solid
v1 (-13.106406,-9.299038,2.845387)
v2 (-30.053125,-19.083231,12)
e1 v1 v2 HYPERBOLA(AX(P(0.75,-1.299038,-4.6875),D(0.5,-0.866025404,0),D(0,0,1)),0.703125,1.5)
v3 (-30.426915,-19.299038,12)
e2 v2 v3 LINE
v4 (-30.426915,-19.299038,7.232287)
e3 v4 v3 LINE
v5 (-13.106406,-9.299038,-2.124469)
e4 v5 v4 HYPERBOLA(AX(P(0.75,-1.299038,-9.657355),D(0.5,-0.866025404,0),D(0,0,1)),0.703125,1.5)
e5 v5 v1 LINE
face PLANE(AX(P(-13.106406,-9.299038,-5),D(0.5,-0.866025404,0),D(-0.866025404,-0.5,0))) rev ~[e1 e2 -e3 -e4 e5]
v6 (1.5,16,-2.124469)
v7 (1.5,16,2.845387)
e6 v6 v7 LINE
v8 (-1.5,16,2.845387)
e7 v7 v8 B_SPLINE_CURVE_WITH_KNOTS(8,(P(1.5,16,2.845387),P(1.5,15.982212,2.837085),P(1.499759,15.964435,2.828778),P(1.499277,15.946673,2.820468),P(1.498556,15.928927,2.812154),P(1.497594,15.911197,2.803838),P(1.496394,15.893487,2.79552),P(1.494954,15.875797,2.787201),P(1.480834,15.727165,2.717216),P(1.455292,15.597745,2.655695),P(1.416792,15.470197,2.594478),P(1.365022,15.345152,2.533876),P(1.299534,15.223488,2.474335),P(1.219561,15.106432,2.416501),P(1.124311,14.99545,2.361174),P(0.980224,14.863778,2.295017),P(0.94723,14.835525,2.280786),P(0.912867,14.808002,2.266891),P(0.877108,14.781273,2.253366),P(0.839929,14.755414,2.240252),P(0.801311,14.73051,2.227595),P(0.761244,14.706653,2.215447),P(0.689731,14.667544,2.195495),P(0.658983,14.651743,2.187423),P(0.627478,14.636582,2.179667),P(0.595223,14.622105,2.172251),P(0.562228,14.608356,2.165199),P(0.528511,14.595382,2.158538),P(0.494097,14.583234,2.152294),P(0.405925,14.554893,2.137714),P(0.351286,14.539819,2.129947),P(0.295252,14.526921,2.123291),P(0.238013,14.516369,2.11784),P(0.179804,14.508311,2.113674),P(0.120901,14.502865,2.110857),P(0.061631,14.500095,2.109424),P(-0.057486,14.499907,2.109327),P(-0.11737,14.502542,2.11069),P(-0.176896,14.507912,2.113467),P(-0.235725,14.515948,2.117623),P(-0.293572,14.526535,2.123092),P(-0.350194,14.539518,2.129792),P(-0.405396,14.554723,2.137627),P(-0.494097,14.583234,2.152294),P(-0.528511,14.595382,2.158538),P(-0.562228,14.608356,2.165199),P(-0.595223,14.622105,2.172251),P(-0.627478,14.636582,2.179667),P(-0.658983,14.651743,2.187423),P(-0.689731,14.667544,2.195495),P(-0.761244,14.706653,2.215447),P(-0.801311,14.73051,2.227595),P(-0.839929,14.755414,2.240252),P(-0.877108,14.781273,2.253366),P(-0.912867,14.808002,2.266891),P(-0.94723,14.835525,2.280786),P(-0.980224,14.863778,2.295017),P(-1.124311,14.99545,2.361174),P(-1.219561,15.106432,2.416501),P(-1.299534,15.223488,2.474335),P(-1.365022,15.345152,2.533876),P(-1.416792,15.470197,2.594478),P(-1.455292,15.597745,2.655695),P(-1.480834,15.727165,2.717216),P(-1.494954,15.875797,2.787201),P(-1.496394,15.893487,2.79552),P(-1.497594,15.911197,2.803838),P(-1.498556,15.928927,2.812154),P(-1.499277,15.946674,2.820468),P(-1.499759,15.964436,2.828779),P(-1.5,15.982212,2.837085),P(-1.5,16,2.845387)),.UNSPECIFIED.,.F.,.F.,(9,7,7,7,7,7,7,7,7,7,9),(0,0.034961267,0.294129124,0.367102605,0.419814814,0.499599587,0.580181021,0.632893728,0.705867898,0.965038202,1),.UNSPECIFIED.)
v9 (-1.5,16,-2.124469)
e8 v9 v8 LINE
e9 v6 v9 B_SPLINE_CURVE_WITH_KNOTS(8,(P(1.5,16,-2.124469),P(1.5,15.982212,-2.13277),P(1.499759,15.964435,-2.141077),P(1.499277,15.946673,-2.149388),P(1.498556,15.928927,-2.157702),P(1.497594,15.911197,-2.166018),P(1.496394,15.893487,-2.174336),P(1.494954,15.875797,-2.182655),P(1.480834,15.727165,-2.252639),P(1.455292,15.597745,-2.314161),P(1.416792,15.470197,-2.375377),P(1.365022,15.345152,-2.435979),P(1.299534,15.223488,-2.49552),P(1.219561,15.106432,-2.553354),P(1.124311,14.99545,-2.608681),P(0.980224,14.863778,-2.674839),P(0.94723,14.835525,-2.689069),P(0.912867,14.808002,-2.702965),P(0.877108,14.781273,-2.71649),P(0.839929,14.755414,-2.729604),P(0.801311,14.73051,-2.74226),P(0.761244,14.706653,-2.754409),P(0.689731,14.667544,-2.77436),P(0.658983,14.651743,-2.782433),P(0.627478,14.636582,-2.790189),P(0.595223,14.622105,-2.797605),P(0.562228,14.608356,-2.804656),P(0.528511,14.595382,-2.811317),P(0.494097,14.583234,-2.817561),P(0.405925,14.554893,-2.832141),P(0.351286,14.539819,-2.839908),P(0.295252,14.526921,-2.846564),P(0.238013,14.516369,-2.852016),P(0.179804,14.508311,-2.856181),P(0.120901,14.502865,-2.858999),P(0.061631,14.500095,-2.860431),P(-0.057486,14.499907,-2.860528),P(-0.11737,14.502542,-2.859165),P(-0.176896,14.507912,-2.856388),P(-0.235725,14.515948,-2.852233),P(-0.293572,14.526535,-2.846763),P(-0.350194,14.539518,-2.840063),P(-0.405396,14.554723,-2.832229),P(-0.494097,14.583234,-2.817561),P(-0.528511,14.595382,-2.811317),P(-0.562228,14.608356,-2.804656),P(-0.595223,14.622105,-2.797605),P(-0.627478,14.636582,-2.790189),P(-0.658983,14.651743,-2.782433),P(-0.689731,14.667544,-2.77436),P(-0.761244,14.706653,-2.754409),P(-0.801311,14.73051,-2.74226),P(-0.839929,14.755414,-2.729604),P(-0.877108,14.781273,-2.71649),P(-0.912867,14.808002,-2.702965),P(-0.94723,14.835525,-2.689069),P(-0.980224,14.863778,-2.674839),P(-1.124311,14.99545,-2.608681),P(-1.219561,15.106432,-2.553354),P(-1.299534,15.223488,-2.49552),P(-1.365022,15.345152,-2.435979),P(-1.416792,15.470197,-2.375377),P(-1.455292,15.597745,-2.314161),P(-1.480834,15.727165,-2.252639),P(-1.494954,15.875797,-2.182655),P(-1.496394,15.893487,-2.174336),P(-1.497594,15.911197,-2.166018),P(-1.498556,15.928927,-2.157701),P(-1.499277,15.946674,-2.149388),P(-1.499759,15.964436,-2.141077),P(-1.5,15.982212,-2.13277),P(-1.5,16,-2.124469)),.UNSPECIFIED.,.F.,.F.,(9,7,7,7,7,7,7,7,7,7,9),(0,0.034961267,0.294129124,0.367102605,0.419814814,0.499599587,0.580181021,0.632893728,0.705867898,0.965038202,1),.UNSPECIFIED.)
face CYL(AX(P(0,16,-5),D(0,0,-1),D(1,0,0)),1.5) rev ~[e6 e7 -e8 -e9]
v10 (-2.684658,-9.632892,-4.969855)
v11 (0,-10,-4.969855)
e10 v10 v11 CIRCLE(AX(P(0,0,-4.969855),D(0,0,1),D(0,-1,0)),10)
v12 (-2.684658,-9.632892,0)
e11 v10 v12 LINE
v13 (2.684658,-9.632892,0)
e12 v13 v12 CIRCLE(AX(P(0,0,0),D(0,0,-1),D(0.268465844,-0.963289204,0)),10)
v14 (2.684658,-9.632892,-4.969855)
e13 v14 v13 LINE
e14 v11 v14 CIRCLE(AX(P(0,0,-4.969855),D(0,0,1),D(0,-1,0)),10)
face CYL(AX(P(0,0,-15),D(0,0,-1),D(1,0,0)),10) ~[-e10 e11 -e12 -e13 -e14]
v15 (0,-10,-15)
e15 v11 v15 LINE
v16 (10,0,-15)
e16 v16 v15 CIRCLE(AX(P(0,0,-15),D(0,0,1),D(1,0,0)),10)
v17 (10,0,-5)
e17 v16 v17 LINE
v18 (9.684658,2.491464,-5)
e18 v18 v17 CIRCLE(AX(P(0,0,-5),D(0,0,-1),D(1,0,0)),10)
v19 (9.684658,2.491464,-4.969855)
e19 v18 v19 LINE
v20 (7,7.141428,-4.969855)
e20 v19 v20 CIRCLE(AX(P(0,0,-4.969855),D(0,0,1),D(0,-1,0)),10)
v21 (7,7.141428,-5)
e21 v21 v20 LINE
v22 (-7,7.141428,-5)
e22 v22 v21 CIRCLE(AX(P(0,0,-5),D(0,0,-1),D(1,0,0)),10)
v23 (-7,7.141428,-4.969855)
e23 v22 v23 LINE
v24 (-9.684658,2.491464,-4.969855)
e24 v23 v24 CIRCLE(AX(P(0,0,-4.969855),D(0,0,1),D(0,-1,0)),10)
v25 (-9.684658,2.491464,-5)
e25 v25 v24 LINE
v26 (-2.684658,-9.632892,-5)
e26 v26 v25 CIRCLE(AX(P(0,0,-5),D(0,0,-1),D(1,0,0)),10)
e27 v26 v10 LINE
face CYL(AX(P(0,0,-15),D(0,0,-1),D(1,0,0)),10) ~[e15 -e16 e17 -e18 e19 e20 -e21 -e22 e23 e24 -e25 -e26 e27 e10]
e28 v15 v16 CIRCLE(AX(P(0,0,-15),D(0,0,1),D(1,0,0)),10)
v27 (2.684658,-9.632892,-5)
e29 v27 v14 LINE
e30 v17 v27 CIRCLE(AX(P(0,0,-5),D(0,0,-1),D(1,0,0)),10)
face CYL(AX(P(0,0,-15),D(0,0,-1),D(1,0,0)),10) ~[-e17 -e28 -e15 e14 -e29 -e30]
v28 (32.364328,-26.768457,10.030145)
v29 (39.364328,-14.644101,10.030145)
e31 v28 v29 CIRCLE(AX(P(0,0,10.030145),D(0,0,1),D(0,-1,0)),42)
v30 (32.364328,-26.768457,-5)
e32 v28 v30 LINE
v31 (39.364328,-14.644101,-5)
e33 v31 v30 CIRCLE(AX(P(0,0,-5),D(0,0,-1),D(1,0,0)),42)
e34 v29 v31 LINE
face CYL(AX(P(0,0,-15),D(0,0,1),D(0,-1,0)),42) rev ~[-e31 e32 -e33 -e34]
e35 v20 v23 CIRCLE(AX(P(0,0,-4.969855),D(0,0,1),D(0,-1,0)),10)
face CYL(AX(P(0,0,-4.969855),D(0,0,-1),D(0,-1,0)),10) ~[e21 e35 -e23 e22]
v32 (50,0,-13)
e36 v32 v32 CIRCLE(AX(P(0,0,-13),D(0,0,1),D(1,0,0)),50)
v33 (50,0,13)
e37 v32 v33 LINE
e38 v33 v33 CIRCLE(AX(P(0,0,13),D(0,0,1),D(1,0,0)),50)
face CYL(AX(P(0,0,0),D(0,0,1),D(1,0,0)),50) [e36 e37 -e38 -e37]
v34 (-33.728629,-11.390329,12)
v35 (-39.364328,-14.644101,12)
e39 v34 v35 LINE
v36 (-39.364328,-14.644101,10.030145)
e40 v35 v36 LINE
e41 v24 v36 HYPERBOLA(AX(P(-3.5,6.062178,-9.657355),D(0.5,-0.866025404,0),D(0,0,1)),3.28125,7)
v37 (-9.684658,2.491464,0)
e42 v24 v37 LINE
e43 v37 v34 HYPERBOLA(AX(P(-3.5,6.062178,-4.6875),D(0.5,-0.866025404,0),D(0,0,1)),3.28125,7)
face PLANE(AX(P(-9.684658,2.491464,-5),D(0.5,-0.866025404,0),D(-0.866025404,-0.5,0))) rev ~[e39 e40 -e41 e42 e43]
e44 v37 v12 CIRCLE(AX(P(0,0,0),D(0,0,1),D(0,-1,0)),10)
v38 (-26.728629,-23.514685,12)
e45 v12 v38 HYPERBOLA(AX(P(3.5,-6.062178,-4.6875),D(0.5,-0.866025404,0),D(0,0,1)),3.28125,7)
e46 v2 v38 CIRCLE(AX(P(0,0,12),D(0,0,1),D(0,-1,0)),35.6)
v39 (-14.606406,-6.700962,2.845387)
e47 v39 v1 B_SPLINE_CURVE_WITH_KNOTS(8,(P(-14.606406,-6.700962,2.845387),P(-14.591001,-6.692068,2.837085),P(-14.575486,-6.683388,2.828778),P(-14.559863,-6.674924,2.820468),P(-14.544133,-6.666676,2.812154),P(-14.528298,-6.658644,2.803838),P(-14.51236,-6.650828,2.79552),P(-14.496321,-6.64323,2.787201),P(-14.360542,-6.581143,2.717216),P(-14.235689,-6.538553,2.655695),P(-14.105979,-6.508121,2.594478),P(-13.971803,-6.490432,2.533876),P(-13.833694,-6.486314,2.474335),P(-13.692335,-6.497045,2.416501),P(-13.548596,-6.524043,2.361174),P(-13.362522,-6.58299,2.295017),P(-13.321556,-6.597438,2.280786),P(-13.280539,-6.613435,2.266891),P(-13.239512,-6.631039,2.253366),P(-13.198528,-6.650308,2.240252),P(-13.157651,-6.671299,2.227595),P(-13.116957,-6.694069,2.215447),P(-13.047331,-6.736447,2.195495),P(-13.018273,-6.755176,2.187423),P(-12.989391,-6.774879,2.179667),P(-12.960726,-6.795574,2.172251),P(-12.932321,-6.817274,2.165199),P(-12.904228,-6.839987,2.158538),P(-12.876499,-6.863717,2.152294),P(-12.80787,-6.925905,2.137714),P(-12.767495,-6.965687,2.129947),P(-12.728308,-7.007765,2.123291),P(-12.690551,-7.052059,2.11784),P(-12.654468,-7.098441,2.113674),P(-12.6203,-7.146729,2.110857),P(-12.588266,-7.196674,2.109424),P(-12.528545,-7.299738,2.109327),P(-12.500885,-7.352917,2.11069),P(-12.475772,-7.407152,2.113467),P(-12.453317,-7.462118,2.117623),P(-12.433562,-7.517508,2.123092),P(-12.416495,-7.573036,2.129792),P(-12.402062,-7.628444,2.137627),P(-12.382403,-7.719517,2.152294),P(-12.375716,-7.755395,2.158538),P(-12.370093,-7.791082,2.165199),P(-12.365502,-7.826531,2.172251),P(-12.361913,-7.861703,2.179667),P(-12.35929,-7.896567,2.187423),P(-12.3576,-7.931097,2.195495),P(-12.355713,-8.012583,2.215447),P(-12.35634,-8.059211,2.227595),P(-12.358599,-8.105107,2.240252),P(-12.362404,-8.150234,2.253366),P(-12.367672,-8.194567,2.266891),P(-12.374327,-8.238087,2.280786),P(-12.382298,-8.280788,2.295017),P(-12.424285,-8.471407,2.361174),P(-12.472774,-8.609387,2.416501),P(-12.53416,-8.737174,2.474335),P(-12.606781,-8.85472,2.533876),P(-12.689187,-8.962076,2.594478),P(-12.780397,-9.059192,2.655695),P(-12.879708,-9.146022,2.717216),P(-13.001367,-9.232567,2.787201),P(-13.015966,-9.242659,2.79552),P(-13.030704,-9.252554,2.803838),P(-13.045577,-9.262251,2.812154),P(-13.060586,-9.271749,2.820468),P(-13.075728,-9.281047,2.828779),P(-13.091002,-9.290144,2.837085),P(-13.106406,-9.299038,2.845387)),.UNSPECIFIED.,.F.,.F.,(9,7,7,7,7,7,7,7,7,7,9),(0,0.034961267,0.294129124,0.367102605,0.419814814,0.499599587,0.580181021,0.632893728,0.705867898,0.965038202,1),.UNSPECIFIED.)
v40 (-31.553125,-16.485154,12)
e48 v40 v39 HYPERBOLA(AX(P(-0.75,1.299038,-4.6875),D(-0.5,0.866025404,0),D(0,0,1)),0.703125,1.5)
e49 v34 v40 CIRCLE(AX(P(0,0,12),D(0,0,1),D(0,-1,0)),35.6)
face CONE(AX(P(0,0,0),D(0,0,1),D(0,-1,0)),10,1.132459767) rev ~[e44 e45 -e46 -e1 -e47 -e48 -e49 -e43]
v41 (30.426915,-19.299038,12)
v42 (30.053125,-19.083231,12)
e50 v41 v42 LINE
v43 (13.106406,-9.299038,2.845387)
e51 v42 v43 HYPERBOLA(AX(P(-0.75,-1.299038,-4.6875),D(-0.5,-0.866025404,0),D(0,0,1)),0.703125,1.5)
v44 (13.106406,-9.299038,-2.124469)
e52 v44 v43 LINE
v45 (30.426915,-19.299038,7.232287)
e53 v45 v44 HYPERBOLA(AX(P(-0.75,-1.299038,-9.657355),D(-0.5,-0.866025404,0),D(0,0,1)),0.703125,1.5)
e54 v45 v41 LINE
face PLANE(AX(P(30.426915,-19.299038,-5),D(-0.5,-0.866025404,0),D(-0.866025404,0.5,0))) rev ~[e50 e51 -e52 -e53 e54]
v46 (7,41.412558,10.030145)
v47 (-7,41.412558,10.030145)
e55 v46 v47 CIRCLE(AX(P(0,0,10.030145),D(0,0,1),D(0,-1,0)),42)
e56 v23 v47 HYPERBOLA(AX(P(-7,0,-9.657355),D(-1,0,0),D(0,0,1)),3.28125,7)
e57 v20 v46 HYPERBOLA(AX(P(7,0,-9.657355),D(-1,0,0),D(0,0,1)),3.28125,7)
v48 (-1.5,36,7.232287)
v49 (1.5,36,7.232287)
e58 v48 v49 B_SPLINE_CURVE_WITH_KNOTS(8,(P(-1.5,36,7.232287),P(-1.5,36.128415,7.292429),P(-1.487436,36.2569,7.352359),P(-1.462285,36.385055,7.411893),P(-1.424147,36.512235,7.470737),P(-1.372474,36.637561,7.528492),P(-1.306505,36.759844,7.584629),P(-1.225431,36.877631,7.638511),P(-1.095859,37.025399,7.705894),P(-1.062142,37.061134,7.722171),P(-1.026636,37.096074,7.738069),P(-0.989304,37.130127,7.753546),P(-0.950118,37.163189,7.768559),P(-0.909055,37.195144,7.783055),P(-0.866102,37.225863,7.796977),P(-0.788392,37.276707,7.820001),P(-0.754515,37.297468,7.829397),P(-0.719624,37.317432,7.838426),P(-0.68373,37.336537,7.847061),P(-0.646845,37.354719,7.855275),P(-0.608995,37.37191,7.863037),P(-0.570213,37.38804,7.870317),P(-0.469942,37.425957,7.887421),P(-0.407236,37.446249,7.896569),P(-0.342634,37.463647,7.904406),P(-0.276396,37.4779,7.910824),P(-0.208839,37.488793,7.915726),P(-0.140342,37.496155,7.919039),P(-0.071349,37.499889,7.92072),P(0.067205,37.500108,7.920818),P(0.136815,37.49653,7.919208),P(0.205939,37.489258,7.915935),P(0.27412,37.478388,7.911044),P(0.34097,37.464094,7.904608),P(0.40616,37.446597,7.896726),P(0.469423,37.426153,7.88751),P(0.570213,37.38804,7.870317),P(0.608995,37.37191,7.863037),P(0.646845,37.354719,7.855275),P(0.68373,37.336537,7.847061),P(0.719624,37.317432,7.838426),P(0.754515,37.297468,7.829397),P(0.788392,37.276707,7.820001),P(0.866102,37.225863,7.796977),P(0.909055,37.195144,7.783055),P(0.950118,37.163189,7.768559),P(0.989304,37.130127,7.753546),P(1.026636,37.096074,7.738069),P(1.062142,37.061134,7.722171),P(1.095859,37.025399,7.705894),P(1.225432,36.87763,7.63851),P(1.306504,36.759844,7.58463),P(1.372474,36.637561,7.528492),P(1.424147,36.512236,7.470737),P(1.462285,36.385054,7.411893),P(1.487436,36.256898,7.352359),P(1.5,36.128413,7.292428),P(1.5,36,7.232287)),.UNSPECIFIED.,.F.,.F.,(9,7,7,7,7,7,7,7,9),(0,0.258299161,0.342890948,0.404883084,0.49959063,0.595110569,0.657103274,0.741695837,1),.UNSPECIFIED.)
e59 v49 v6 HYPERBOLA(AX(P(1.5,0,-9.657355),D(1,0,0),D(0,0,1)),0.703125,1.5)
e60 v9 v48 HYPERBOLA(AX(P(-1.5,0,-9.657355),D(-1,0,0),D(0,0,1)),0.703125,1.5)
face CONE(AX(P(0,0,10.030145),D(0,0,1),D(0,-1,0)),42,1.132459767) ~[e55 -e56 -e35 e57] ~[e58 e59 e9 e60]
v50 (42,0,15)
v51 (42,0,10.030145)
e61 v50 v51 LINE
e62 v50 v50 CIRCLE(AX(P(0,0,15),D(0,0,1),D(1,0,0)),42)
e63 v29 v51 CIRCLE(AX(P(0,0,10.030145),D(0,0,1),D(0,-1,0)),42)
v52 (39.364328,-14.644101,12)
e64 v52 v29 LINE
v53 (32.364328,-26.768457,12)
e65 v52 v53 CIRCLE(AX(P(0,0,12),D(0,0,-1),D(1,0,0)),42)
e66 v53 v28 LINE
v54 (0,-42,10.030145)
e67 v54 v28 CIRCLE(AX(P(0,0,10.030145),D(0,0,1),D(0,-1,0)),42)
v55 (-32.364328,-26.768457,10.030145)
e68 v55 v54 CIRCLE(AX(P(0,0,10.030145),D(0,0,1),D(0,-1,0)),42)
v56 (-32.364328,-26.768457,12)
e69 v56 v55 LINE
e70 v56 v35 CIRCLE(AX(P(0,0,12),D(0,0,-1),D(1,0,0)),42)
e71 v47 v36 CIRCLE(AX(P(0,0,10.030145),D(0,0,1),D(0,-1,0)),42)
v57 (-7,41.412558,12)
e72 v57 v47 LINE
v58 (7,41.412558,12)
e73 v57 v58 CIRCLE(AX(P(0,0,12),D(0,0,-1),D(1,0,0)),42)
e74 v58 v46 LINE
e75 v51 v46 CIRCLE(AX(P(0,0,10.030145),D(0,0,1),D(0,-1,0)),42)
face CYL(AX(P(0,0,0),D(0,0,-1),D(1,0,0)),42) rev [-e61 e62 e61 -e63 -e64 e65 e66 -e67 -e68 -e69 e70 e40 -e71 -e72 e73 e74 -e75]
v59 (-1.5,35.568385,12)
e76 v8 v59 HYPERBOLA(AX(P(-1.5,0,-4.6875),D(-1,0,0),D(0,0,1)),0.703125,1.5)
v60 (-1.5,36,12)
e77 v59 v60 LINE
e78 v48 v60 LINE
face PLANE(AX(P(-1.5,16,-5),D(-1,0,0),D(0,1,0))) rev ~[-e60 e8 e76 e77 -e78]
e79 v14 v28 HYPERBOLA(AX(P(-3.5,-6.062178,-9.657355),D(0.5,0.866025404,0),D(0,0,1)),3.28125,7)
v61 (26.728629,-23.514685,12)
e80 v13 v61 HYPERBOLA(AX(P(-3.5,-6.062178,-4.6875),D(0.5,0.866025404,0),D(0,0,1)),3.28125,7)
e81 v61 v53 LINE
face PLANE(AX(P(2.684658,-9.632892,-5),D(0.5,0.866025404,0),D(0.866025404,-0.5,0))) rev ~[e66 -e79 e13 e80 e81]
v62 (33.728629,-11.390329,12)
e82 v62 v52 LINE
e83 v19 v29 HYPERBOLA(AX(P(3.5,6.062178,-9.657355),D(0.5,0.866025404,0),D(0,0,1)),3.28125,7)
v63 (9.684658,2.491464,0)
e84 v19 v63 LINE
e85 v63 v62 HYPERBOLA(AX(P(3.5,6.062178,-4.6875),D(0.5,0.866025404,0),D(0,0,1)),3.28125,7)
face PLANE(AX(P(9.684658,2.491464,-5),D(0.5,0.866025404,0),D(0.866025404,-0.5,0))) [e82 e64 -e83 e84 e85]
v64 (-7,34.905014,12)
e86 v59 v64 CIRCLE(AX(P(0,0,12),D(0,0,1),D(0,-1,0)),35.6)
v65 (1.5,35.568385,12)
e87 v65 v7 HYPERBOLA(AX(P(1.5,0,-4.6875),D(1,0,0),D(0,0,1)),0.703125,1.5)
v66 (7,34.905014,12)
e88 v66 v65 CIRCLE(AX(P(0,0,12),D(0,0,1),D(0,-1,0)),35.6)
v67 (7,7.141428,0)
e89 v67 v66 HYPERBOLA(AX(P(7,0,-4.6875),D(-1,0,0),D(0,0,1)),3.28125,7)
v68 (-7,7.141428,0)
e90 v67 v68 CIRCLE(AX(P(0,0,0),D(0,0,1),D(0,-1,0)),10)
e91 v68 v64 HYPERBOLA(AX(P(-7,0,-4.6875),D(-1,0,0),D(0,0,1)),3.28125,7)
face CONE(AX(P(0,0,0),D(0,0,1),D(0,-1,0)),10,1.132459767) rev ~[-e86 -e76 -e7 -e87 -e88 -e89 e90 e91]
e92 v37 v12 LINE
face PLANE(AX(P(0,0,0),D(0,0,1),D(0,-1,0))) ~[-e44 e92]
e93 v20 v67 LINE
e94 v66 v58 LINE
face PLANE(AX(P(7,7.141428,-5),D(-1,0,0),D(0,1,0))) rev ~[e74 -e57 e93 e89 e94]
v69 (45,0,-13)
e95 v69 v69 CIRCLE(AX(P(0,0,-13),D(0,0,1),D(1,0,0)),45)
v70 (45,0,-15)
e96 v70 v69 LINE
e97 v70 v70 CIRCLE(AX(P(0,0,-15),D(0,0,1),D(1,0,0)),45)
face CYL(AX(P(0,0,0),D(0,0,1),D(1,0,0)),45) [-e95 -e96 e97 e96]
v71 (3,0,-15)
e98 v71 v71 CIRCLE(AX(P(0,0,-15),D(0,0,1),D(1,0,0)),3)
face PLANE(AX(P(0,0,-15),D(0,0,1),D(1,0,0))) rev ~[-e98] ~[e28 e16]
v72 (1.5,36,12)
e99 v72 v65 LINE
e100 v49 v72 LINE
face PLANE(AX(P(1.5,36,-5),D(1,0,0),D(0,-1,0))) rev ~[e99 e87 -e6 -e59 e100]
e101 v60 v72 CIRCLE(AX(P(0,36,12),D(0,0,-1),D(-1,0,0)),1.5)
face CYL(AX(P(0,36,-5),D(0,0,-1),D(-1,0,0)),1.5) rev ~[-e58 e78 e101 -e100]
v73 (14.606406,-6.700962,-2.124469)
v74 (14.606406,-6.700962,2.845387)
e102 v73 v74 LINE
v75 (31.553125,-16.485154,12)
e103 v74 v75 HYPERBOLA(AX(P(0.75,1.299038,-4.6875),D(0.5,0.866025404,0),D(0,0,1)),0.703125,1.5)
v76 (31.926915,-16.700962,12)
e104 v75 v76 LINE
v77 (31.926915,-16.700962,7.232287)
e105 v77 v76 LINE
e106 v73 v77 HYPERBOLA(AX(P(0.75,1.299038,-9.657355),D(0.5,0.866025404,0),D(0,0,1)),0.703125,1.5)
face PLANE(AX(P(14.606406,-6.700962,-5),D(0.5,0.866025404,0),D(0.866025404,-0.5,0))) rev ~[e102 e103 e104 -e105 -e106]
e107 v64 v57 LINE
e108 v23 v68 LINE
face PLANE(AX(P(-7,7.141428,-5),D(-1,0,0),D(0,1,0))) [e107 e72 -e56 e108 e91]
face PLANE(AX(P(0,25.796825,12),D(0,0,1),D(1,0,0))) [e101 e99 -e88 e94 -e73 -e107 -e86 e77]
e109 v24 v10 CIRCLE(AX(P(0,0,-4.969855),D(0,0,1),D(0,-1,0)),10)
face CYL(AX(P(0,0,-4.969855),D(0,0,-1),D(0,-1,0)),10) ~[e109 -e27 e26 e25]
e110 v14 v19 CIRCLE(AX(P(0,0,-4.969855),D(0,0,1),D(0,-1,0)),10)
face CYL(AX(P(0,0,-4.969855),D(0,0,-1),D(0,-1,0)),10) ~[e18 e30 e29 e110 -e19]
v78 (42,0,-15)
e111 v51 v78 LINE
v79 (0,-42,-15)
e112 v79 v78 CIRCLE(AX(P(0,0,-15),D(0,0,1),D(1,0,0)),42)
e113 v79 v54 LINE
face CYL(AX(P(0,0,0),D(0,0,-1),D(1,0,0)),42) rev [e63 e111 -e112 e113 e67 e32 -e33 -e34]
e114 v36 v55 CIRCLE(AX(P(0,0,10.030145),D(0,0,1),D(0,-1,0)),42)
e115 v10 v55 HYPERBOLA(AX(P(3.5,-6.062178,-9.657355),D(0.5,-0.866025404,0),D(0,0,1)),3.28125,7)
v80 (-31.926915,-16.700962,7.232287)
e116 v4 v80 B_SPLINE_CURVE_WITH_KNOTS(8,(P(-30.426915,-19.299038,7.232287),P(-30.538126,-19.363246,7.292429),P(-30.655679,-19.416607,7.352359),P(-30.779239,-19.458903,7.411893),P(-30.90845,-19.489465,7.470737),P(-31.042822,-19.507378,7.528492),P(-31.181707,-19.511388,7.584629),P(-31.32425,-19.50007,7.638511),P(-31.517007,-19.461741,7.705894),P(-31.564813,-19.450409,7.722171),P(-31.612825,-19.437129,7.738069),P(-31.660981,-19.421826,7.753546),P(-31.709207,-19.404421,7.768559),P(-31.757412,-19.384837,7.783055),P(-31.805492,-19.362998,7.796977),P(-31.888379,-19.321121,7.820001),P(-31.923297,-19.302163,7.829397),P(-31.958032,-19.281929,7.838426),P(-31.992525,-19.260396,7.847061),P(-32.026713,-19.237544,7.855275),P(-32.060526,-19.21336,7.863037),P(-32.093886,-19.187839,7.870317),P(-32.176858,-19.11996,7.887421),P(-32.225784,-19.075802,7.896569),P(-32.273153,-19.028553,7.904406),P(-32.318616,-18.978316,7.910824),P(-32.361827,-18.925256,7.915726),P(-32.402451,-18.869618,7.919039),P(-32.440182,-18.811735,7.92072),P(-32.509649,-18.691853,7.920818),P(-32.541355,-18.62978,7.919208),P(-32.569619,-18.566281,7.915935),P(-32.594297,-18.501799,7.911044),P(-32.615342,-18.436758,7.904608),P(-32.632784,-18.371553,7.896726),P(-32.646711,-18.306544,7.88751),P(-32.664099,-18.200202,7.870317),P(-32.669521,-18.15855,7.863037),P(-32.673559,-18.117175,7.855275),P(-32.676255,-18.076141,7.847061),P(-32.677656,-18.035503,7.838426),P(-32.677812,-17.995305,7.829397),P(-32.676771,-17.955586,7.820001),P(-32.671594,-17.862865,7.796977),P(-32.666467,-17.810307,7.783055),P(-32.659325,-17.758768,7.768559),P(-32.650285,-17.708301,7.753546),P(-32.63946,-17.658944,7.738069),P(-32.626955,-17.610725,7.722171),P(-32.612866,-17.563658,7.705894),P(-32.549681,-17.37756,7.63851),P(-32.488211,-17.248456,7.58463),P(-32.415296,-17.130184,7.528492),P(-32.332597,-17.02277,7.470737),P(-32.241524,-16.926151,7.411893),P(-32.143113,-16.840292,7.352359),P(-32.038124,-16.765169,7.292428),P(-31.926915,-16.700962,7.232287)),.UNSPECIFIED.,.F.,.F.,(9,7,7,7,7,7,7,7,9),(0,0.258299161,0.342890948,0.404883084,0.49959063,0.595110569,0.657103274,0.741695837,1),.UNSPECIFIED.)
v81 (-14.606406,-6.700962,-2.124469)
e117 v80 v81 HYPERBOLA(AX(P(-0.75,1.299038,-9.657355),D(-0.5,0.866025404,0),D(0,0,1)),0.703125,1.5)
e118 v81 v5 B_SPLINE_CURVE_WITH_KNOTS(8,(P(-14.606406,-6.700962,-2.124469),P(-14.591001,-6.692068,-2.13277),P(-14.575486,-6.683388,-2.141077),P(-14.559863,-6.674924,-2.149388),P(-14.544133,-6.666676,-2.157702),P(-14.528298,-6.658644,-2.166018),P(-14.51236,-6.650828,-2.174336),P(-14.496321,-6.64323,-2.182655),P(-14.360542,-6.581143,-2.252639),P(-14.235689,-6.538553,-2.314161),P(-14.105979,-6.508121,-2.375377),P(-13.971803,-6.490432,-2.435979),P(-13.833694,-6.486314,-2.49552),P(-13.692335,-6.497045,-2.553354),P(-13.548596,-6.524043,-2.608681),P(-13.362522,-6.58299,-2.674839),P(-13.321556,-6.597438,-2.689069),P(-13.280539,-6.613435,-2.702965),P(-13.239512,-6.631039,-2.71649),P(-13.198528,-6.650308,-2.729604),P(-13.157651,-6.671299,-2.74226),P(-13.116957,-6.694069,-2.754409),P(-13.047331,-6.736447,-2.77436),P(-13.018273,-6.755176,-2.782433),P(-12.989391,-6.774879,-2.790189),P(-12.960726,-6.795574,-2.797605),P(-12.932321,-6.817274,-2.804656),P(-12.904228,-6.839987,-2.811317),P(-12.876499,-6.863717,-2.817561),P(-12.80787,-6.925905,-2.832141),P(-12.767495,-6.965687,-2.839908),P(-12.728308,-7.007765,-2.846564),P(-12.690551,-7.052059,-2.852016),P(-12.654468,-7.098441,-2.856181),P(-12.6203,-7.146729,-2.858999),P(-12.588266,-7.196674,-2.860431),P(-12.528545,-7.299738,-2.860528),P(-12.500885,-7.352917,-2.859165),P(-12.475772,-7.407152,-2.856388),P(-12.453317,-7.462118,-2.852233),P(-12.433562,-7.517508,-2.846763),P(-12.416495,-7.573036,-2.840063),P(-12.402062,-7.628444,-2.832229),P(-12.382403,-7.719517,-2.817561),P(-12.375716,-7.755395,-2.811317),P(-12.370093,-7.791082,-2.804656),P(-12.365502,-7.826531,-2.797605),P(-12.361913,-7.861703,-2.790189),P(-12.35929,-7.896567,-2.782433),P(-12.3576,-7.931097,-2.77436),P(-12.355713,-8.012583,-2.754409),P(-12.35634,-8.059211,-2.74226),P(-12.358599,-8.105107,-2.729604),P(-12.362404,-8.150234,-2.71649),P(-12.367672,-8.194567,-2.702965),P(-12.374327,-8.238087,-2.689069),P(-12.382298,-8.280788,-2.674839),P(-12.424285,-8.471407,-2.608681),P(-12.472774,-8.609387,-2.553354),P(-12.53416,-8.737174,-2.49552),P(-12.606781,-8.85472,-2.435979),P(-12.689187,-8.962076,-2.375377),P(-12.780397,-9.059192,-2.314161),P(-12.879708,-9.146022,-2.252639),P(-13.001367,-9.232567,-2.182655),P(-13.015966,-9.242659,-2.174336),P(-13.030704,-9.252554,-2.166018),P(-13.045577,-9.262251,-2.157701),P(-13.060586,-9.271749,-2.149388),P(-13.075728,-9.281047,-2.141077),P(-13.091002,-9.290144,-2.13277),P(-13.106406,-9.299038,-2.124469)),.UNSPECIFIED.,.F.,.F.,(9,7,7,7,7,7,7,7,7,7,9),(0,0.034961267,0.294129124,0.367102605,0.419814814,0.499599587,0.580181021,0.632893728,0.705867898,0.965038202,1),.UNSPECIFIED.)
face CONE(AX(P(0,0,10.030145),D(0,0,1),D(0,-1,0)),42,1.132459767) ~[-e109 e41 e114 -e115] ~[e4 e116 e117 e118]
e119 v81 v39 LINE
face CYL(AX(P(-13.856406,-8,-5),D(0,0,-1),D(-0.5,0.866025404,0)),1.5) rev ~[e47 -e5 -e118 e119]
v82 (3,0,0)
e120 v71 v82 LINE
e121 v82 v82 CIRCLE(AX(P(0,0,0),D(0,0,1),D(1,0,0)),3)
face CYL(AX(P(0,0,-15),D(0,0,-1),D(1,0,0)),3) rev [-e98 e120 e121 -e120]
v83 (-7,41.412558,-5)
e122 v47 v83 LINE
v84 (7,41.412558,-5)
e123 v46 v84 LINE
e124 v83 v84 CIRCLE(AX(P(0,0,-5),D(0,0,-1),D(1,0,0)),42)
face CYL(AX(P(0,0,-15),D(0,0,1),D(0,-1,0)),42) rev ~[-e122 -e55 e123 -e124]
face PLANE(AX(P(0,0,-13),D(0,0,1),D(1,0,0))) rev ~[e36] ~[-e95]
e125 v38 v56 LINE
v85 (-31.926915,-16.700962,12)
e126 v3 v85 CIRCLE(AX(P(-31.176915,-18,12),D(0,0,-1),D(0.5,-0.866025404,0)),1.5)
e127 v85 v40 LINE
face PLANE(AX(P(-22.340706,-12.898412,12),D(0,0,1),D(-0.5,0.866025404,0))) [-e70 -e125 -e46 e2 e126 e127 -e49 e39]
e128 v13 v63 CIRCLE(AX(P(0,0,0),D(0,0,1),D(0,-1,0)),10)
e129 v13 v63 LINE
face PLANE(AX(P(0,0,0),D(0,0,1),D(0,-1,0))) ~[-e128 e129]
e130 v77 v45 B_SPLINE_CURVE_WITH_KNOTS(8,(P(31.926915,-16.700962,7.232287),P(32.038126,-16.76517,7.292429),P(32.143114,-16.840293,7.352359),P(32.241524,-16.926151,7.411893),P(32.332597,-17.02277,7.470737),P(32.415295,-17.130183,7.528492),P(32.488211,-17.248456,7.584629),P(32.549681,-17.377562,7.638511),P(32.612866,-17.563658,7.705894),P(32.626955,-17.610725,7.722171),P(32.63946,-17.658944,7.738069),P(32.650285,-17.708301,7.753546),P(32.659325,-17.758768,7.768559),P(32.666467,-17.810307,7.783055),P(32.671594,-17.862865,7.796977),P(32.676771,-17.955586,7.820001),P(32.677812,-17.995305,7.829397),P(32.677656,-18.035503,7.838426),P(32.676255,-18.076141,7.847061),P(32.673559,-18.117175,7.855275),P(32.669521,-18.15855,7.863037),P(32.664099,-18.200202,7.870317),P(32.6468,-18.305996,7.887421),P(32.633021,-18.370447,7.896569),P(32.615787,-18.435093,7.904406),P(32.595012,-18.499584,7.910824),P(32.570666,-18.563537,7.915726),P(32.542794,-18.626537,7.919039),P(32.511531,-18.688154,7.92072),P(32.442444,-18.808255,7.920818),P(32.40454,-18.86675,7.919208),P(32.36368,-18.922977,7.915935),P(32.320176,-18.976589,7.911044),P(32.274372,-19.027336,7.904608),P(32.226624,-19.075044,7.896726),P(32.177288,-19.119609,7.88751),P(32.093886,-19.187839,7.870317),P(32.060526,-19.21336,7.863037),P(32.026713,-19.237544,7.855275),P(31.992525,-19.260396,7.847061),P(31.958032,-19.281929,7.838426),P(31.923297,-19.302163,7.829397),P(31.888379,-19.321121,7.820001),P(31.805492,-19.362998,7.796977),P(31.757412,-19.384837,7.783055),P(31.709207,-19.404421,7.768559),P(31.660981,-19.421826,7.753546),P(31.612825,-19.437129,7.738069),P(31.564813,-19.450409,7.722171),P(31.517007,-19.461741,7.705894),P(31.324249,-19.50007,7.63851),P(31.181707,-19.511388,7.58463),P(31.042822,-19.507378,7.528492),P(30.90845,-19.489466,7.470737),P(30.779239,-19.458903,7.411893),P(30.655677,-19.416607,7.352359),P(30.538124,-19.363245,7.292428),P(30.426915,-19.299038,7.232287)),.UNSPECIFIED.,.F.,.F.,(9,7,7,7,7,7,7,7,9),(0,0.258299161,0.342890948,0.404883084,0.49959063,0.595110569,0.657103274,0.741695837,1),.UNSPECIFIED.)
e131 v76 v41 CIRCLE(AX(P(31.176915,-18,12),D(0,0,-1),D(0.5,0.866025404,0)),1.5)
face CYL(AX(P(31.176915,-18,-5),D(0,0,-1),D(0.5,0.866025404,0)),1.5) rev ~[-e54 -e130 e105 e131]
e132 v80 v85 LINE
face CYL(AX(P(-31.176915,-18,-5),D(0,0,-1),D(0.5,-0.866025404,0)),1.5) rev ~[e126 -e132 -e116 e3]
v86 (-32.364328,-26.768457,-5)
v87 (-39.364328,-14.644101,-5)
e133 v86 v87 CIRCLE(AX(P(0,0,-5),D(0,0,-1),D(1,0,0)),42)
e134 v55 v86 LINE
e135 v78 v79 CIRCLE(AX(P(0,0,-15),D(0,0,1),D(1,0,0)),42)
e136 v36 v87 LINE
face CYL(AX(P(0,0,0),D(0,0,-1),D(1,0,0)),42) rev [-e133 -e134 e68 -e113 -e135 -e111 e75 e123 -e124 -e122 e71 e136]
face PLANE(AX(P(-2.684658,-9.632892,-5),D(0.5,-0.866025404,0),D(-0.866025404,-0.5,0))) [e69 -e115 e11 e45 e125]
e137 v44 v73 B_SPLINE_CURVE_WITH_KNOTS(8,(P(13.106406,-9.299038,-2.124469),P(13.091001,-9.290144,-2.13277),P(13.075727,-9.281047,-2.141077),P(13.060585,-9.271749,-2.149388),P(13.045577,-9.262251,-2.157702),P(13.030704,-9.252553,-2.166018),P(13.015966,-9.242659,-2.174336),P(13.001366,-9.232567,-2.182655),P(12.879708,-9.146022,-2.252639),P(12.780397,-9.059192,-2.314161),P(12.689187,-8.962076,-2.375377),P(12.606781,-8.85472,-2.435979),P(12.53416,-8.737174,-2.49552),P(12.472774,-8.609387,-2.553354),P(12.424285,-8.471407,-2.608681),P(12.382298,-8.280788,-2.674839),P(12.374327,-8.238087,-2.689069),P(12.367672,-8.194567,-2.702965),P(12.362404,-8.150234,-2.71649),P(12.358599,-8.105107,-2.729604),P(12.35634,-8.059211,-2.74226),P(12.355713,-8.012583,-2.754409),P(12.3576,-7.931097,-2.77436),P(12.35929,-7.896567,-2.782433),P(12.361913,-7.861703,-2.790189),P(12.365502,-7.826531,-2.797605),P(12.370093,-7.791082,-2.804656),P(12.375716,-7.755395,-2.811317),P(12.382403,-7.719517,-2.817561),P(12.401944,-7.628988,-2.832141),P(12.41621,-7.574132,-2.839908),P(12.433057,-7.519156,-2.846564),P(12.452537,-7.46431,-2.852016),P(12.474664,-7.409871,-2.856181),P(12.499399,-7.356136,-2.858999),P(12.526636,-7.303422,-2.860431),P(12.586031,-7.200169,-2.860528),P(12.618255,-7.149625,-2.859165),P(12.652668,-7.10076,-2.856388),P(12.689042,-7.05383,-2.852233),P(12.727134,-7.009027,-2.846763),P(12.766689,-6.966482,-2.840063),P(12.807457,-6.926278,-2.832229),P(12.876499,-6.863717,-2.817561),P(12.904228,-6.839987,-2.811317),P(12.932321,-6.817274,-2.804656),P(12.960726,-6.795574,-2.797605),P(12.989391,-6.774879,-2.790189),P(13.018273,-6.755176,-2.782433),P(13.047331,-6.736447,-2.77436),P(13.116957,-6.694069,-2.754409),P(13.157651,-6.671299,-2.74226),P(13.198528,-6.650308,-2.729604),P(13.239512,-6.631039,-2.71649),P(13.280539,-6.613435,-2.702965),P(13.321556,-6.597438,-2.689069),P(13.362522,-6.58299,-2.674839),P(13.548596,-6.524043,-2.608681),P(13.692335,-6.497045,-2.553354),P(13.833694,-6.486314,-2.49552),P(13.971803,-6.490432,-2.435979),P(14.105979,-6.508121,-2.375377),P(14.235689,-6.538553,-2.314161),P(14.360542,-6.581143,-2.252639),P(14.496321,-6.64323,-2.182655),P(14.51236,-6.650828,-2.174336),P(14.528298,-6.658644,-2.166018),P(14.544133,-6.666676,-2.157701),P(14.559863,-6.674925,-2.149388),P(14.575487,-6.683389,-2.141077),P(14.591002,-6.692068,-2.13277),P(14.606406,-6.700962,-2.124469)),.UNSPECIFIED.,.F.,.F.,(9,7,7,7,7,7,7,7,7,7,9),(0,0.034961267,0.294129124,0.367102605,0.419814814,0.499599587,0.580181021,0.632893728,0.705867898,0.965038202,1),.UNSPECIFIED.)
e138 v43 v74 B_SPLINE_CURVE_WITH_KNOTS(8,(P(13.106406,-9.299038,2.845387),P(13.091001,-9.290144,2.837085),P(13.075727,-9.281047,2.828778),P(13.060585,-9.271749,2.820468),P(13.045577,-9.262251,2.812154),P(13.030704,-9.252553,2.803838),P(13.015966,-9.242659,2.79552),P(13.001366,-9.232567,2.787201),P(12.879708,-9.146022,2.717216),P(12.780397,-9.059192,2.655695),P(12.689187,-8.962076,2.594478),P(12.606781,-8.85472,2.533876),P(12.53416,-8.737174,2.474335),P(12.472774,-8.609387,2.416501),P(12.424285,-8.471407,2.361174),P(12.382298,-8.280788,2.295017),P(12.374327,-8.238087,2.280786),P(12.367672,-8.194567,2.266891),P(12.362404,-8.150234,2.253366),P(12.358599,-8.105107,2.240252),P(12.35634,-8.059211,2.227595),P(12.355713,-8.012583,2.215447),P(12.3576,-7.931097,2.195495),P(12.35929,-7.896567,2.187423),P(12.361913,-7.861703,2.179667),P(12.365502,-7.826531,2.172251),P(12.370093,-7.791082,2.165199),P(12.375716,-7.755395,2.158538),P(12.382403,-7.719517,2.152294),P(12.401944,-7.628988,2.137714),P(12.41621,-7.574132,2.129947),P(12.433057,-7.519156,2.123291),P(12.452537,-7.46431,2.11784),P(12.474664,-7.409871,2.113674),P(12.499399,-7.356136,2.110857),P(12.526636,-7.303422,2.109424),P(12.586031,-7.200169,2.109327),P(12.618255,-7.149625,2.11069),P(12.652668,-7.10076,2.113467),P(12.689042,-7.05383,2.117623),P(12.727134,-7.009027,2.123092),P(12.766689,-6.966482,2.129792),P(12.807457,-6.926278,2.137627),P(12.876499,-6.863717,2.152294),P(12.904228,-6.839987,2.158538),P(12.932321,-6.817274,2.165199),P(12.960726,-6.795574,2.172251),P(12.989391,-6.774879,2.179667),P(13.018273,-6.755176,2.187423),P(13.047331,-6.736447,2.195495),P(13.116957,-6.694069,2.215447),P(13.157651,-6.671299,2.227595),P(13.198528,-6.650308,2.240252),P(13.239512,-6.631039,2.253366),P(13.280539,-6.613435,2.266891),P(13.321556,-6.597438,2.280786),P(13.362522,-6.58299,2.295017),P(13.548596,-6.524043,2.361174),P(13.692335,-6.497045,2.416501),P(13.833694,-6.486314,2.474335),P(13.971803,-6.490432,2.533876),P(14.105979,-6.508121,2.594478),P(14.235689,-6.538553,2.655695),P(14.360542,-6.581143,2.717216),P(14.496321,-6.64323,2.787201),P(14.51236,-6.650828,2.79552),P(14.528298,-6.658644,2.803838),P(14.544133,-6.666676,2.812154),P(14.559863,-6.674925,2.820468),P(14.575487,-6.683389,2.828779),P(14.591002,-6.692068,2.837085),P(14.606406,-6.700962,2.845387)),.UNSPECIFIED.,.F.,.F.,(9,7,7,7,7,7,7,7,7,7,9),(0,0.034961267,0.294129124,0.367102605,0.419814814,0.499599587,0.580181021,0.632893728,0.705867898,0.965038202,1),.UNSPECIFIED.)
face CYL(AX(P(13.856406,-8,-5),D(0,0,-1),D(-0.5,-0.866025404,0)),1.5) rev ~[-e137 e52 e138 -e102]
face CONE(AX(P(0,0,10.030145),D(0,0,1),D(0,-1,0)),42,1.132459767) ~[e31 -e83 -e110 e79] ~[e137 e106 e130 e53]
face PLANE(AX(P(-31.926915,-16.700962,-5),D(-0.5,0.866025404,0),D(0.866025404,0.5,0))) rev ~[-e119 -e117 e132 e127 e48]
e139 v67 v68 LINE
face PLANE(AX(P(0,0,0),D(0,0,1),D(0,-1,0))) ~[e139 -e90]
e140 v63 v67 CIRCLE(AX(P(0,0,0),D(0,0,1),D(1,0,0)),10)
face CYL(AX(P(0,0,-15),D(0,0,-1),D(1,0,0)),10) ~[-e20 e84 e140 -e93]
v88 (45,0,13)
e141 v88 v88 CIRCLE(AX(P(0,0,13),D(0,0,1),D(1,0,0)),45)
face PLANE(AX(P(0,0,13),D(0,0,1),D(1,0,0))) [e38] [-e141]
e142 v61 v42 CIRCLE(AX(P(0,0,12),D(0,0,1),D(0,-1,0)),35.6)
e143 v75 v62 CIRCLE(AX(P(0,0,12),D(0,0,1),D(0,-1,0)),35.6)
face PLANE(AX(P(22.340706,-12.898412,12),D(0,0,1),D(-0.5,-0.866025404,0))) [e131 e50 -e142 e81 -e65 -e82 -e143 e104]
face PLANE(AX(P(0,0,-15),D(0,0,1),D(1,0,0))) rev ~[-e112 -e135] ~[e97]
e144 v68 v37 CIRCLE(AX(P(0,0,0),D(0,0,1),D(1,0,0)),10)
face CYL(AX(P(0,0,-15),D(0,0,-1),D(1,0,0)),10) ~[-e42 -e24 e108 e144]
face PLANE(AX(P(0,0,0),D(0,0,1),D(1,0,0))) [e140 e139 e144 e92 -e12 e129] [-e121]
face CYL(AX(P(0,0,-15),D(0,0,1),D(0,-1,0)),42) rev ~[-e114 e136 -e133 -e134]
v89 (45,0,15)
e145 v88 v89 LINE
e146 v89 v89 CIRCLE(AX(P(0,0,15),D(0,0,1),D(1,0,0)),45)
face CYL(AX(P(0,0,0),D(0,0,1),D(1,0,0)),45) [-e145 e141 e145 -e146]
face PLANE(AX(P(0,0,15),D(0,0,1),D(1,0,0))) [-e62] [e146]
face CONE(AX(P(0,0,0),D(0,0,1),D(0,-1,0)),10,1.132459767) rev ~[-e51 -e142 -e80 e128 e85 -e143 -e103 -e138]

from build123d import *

# Parameters (mm, degrees)
SKETCH1_R           = 45
SKETCH1_R_2         = 42
BOSS_EXTRUDE1_DEPTH = 15
BOSS_EXTRUDE2_START = -15
SKETCH1_3_R         = 10
SKETCH1_3_R_2       = 3
BOSS_EXTRUDE2_DEPTH = 15
BOSS_EXTRUDE3_START = -5
SKETCH2_W           = 14
SKETCH2_H           = 37.310793113
BOSS_EXTRUDE3_DEPTH = 17
CIRPATTERN1_COUNT   = 3
SKETCH1_4_R         = 50
SKETCH1_4_R_2       = 45
BOSS_EXTRUDE4_DEPTH = 13


with BuildPart() as part:
    # Sketch1 → Boss-Extrude1 (new body, symmetric)
    with BuildSketch(Plane.XY):
        Circle(SKETCH1_R)
        Circle(SKETCH1_R_2, mode=Mode.SUBTRACT)
    extrude(amount=BOSS_EXTRUDE1_DEPTH, both=True)



with BuildPart() as body_2:
    # Sketch1<3> → Boss-Extrude2 (new body)
    with BuildSketch(Plane.XY.offset(BOSS_EXTRUDE2_START)):
        Circle(SKETCH1_3_R)
        Circle(SKETCH1_3_R_2, mode=Mode.SUBTRACT)
    extrude(amount=BOSS_EXTRUDE2_DEPTH)


with BuildPart() as part_1:
    add(part.part)

    add(body_2.part)  # Boss-Extrude3 merges body 2
    # Sketch2 → Boss-Extrude3 (add)
    with BuildSketch(Plane.XY.offset(BOSS_EXTRUDE3_START)):
        with Locations((0, 25.796824986)):
            Rectangle(SKETCH2_W, SKETCH2_H)
        with BuildLine():
            Line((1.5, 36), (1.5, 16))
            ThreePointArc((1.5, 16), (0, 14.5), (-1.5, 16))
            Line((-1.5, 16), (-1.5, 36))
            ThreePointArc((-1.5, 36), (0, 37.5), (1.5, 36))
        make_face(mode=Mode.SUBTRACT)
    boss_extrude3 = extrude(amount=BOSS_EXTRUDE3_DEPTH)

    # CirPattern1: Boss-Extrude3 ×3 about axis
    cirpattern1_axis = Axis((0, 0, 0), (0, 0, 1))
    for i in range(1, CIRPATTERN1_COUNT):
        add(boss_extrude3.rotate(cirpattern1_axis, i * 360 / CIRPATTERN1_COUNT))

    # Sketch3 → Cut-Revolve1 (revolve, cut)
    with BuildSketch(Plane(origin=(0, 0, 0), x_dir=(0, 0, -1), z_dir=(1, 0, 0))):
        Polygon((0, 0), (0, -10), (-15, -42), (-15, 0), align=None)
        Polygon((4.969855419, -10), (15, -10), (15, -42), (-10.030144581, -42), align=None)
    revolve(axis=Axis((0, 0, 0), (0, 0, 1)), mode=Mode.SUBTRACT)

    # Sketch1<4> → Boss-Extrude4 (add, symmetric)
    with BuildSketch(Plane.XY):
        Circle(SKETCH1_4_R)
        Circle(SKETCH1_4_R_2, mode=Mode.SUBTRACT)
    extrude(amount=BOSS_EXTRUDE4_DEPTH, both=True)


solid = part_1.part
